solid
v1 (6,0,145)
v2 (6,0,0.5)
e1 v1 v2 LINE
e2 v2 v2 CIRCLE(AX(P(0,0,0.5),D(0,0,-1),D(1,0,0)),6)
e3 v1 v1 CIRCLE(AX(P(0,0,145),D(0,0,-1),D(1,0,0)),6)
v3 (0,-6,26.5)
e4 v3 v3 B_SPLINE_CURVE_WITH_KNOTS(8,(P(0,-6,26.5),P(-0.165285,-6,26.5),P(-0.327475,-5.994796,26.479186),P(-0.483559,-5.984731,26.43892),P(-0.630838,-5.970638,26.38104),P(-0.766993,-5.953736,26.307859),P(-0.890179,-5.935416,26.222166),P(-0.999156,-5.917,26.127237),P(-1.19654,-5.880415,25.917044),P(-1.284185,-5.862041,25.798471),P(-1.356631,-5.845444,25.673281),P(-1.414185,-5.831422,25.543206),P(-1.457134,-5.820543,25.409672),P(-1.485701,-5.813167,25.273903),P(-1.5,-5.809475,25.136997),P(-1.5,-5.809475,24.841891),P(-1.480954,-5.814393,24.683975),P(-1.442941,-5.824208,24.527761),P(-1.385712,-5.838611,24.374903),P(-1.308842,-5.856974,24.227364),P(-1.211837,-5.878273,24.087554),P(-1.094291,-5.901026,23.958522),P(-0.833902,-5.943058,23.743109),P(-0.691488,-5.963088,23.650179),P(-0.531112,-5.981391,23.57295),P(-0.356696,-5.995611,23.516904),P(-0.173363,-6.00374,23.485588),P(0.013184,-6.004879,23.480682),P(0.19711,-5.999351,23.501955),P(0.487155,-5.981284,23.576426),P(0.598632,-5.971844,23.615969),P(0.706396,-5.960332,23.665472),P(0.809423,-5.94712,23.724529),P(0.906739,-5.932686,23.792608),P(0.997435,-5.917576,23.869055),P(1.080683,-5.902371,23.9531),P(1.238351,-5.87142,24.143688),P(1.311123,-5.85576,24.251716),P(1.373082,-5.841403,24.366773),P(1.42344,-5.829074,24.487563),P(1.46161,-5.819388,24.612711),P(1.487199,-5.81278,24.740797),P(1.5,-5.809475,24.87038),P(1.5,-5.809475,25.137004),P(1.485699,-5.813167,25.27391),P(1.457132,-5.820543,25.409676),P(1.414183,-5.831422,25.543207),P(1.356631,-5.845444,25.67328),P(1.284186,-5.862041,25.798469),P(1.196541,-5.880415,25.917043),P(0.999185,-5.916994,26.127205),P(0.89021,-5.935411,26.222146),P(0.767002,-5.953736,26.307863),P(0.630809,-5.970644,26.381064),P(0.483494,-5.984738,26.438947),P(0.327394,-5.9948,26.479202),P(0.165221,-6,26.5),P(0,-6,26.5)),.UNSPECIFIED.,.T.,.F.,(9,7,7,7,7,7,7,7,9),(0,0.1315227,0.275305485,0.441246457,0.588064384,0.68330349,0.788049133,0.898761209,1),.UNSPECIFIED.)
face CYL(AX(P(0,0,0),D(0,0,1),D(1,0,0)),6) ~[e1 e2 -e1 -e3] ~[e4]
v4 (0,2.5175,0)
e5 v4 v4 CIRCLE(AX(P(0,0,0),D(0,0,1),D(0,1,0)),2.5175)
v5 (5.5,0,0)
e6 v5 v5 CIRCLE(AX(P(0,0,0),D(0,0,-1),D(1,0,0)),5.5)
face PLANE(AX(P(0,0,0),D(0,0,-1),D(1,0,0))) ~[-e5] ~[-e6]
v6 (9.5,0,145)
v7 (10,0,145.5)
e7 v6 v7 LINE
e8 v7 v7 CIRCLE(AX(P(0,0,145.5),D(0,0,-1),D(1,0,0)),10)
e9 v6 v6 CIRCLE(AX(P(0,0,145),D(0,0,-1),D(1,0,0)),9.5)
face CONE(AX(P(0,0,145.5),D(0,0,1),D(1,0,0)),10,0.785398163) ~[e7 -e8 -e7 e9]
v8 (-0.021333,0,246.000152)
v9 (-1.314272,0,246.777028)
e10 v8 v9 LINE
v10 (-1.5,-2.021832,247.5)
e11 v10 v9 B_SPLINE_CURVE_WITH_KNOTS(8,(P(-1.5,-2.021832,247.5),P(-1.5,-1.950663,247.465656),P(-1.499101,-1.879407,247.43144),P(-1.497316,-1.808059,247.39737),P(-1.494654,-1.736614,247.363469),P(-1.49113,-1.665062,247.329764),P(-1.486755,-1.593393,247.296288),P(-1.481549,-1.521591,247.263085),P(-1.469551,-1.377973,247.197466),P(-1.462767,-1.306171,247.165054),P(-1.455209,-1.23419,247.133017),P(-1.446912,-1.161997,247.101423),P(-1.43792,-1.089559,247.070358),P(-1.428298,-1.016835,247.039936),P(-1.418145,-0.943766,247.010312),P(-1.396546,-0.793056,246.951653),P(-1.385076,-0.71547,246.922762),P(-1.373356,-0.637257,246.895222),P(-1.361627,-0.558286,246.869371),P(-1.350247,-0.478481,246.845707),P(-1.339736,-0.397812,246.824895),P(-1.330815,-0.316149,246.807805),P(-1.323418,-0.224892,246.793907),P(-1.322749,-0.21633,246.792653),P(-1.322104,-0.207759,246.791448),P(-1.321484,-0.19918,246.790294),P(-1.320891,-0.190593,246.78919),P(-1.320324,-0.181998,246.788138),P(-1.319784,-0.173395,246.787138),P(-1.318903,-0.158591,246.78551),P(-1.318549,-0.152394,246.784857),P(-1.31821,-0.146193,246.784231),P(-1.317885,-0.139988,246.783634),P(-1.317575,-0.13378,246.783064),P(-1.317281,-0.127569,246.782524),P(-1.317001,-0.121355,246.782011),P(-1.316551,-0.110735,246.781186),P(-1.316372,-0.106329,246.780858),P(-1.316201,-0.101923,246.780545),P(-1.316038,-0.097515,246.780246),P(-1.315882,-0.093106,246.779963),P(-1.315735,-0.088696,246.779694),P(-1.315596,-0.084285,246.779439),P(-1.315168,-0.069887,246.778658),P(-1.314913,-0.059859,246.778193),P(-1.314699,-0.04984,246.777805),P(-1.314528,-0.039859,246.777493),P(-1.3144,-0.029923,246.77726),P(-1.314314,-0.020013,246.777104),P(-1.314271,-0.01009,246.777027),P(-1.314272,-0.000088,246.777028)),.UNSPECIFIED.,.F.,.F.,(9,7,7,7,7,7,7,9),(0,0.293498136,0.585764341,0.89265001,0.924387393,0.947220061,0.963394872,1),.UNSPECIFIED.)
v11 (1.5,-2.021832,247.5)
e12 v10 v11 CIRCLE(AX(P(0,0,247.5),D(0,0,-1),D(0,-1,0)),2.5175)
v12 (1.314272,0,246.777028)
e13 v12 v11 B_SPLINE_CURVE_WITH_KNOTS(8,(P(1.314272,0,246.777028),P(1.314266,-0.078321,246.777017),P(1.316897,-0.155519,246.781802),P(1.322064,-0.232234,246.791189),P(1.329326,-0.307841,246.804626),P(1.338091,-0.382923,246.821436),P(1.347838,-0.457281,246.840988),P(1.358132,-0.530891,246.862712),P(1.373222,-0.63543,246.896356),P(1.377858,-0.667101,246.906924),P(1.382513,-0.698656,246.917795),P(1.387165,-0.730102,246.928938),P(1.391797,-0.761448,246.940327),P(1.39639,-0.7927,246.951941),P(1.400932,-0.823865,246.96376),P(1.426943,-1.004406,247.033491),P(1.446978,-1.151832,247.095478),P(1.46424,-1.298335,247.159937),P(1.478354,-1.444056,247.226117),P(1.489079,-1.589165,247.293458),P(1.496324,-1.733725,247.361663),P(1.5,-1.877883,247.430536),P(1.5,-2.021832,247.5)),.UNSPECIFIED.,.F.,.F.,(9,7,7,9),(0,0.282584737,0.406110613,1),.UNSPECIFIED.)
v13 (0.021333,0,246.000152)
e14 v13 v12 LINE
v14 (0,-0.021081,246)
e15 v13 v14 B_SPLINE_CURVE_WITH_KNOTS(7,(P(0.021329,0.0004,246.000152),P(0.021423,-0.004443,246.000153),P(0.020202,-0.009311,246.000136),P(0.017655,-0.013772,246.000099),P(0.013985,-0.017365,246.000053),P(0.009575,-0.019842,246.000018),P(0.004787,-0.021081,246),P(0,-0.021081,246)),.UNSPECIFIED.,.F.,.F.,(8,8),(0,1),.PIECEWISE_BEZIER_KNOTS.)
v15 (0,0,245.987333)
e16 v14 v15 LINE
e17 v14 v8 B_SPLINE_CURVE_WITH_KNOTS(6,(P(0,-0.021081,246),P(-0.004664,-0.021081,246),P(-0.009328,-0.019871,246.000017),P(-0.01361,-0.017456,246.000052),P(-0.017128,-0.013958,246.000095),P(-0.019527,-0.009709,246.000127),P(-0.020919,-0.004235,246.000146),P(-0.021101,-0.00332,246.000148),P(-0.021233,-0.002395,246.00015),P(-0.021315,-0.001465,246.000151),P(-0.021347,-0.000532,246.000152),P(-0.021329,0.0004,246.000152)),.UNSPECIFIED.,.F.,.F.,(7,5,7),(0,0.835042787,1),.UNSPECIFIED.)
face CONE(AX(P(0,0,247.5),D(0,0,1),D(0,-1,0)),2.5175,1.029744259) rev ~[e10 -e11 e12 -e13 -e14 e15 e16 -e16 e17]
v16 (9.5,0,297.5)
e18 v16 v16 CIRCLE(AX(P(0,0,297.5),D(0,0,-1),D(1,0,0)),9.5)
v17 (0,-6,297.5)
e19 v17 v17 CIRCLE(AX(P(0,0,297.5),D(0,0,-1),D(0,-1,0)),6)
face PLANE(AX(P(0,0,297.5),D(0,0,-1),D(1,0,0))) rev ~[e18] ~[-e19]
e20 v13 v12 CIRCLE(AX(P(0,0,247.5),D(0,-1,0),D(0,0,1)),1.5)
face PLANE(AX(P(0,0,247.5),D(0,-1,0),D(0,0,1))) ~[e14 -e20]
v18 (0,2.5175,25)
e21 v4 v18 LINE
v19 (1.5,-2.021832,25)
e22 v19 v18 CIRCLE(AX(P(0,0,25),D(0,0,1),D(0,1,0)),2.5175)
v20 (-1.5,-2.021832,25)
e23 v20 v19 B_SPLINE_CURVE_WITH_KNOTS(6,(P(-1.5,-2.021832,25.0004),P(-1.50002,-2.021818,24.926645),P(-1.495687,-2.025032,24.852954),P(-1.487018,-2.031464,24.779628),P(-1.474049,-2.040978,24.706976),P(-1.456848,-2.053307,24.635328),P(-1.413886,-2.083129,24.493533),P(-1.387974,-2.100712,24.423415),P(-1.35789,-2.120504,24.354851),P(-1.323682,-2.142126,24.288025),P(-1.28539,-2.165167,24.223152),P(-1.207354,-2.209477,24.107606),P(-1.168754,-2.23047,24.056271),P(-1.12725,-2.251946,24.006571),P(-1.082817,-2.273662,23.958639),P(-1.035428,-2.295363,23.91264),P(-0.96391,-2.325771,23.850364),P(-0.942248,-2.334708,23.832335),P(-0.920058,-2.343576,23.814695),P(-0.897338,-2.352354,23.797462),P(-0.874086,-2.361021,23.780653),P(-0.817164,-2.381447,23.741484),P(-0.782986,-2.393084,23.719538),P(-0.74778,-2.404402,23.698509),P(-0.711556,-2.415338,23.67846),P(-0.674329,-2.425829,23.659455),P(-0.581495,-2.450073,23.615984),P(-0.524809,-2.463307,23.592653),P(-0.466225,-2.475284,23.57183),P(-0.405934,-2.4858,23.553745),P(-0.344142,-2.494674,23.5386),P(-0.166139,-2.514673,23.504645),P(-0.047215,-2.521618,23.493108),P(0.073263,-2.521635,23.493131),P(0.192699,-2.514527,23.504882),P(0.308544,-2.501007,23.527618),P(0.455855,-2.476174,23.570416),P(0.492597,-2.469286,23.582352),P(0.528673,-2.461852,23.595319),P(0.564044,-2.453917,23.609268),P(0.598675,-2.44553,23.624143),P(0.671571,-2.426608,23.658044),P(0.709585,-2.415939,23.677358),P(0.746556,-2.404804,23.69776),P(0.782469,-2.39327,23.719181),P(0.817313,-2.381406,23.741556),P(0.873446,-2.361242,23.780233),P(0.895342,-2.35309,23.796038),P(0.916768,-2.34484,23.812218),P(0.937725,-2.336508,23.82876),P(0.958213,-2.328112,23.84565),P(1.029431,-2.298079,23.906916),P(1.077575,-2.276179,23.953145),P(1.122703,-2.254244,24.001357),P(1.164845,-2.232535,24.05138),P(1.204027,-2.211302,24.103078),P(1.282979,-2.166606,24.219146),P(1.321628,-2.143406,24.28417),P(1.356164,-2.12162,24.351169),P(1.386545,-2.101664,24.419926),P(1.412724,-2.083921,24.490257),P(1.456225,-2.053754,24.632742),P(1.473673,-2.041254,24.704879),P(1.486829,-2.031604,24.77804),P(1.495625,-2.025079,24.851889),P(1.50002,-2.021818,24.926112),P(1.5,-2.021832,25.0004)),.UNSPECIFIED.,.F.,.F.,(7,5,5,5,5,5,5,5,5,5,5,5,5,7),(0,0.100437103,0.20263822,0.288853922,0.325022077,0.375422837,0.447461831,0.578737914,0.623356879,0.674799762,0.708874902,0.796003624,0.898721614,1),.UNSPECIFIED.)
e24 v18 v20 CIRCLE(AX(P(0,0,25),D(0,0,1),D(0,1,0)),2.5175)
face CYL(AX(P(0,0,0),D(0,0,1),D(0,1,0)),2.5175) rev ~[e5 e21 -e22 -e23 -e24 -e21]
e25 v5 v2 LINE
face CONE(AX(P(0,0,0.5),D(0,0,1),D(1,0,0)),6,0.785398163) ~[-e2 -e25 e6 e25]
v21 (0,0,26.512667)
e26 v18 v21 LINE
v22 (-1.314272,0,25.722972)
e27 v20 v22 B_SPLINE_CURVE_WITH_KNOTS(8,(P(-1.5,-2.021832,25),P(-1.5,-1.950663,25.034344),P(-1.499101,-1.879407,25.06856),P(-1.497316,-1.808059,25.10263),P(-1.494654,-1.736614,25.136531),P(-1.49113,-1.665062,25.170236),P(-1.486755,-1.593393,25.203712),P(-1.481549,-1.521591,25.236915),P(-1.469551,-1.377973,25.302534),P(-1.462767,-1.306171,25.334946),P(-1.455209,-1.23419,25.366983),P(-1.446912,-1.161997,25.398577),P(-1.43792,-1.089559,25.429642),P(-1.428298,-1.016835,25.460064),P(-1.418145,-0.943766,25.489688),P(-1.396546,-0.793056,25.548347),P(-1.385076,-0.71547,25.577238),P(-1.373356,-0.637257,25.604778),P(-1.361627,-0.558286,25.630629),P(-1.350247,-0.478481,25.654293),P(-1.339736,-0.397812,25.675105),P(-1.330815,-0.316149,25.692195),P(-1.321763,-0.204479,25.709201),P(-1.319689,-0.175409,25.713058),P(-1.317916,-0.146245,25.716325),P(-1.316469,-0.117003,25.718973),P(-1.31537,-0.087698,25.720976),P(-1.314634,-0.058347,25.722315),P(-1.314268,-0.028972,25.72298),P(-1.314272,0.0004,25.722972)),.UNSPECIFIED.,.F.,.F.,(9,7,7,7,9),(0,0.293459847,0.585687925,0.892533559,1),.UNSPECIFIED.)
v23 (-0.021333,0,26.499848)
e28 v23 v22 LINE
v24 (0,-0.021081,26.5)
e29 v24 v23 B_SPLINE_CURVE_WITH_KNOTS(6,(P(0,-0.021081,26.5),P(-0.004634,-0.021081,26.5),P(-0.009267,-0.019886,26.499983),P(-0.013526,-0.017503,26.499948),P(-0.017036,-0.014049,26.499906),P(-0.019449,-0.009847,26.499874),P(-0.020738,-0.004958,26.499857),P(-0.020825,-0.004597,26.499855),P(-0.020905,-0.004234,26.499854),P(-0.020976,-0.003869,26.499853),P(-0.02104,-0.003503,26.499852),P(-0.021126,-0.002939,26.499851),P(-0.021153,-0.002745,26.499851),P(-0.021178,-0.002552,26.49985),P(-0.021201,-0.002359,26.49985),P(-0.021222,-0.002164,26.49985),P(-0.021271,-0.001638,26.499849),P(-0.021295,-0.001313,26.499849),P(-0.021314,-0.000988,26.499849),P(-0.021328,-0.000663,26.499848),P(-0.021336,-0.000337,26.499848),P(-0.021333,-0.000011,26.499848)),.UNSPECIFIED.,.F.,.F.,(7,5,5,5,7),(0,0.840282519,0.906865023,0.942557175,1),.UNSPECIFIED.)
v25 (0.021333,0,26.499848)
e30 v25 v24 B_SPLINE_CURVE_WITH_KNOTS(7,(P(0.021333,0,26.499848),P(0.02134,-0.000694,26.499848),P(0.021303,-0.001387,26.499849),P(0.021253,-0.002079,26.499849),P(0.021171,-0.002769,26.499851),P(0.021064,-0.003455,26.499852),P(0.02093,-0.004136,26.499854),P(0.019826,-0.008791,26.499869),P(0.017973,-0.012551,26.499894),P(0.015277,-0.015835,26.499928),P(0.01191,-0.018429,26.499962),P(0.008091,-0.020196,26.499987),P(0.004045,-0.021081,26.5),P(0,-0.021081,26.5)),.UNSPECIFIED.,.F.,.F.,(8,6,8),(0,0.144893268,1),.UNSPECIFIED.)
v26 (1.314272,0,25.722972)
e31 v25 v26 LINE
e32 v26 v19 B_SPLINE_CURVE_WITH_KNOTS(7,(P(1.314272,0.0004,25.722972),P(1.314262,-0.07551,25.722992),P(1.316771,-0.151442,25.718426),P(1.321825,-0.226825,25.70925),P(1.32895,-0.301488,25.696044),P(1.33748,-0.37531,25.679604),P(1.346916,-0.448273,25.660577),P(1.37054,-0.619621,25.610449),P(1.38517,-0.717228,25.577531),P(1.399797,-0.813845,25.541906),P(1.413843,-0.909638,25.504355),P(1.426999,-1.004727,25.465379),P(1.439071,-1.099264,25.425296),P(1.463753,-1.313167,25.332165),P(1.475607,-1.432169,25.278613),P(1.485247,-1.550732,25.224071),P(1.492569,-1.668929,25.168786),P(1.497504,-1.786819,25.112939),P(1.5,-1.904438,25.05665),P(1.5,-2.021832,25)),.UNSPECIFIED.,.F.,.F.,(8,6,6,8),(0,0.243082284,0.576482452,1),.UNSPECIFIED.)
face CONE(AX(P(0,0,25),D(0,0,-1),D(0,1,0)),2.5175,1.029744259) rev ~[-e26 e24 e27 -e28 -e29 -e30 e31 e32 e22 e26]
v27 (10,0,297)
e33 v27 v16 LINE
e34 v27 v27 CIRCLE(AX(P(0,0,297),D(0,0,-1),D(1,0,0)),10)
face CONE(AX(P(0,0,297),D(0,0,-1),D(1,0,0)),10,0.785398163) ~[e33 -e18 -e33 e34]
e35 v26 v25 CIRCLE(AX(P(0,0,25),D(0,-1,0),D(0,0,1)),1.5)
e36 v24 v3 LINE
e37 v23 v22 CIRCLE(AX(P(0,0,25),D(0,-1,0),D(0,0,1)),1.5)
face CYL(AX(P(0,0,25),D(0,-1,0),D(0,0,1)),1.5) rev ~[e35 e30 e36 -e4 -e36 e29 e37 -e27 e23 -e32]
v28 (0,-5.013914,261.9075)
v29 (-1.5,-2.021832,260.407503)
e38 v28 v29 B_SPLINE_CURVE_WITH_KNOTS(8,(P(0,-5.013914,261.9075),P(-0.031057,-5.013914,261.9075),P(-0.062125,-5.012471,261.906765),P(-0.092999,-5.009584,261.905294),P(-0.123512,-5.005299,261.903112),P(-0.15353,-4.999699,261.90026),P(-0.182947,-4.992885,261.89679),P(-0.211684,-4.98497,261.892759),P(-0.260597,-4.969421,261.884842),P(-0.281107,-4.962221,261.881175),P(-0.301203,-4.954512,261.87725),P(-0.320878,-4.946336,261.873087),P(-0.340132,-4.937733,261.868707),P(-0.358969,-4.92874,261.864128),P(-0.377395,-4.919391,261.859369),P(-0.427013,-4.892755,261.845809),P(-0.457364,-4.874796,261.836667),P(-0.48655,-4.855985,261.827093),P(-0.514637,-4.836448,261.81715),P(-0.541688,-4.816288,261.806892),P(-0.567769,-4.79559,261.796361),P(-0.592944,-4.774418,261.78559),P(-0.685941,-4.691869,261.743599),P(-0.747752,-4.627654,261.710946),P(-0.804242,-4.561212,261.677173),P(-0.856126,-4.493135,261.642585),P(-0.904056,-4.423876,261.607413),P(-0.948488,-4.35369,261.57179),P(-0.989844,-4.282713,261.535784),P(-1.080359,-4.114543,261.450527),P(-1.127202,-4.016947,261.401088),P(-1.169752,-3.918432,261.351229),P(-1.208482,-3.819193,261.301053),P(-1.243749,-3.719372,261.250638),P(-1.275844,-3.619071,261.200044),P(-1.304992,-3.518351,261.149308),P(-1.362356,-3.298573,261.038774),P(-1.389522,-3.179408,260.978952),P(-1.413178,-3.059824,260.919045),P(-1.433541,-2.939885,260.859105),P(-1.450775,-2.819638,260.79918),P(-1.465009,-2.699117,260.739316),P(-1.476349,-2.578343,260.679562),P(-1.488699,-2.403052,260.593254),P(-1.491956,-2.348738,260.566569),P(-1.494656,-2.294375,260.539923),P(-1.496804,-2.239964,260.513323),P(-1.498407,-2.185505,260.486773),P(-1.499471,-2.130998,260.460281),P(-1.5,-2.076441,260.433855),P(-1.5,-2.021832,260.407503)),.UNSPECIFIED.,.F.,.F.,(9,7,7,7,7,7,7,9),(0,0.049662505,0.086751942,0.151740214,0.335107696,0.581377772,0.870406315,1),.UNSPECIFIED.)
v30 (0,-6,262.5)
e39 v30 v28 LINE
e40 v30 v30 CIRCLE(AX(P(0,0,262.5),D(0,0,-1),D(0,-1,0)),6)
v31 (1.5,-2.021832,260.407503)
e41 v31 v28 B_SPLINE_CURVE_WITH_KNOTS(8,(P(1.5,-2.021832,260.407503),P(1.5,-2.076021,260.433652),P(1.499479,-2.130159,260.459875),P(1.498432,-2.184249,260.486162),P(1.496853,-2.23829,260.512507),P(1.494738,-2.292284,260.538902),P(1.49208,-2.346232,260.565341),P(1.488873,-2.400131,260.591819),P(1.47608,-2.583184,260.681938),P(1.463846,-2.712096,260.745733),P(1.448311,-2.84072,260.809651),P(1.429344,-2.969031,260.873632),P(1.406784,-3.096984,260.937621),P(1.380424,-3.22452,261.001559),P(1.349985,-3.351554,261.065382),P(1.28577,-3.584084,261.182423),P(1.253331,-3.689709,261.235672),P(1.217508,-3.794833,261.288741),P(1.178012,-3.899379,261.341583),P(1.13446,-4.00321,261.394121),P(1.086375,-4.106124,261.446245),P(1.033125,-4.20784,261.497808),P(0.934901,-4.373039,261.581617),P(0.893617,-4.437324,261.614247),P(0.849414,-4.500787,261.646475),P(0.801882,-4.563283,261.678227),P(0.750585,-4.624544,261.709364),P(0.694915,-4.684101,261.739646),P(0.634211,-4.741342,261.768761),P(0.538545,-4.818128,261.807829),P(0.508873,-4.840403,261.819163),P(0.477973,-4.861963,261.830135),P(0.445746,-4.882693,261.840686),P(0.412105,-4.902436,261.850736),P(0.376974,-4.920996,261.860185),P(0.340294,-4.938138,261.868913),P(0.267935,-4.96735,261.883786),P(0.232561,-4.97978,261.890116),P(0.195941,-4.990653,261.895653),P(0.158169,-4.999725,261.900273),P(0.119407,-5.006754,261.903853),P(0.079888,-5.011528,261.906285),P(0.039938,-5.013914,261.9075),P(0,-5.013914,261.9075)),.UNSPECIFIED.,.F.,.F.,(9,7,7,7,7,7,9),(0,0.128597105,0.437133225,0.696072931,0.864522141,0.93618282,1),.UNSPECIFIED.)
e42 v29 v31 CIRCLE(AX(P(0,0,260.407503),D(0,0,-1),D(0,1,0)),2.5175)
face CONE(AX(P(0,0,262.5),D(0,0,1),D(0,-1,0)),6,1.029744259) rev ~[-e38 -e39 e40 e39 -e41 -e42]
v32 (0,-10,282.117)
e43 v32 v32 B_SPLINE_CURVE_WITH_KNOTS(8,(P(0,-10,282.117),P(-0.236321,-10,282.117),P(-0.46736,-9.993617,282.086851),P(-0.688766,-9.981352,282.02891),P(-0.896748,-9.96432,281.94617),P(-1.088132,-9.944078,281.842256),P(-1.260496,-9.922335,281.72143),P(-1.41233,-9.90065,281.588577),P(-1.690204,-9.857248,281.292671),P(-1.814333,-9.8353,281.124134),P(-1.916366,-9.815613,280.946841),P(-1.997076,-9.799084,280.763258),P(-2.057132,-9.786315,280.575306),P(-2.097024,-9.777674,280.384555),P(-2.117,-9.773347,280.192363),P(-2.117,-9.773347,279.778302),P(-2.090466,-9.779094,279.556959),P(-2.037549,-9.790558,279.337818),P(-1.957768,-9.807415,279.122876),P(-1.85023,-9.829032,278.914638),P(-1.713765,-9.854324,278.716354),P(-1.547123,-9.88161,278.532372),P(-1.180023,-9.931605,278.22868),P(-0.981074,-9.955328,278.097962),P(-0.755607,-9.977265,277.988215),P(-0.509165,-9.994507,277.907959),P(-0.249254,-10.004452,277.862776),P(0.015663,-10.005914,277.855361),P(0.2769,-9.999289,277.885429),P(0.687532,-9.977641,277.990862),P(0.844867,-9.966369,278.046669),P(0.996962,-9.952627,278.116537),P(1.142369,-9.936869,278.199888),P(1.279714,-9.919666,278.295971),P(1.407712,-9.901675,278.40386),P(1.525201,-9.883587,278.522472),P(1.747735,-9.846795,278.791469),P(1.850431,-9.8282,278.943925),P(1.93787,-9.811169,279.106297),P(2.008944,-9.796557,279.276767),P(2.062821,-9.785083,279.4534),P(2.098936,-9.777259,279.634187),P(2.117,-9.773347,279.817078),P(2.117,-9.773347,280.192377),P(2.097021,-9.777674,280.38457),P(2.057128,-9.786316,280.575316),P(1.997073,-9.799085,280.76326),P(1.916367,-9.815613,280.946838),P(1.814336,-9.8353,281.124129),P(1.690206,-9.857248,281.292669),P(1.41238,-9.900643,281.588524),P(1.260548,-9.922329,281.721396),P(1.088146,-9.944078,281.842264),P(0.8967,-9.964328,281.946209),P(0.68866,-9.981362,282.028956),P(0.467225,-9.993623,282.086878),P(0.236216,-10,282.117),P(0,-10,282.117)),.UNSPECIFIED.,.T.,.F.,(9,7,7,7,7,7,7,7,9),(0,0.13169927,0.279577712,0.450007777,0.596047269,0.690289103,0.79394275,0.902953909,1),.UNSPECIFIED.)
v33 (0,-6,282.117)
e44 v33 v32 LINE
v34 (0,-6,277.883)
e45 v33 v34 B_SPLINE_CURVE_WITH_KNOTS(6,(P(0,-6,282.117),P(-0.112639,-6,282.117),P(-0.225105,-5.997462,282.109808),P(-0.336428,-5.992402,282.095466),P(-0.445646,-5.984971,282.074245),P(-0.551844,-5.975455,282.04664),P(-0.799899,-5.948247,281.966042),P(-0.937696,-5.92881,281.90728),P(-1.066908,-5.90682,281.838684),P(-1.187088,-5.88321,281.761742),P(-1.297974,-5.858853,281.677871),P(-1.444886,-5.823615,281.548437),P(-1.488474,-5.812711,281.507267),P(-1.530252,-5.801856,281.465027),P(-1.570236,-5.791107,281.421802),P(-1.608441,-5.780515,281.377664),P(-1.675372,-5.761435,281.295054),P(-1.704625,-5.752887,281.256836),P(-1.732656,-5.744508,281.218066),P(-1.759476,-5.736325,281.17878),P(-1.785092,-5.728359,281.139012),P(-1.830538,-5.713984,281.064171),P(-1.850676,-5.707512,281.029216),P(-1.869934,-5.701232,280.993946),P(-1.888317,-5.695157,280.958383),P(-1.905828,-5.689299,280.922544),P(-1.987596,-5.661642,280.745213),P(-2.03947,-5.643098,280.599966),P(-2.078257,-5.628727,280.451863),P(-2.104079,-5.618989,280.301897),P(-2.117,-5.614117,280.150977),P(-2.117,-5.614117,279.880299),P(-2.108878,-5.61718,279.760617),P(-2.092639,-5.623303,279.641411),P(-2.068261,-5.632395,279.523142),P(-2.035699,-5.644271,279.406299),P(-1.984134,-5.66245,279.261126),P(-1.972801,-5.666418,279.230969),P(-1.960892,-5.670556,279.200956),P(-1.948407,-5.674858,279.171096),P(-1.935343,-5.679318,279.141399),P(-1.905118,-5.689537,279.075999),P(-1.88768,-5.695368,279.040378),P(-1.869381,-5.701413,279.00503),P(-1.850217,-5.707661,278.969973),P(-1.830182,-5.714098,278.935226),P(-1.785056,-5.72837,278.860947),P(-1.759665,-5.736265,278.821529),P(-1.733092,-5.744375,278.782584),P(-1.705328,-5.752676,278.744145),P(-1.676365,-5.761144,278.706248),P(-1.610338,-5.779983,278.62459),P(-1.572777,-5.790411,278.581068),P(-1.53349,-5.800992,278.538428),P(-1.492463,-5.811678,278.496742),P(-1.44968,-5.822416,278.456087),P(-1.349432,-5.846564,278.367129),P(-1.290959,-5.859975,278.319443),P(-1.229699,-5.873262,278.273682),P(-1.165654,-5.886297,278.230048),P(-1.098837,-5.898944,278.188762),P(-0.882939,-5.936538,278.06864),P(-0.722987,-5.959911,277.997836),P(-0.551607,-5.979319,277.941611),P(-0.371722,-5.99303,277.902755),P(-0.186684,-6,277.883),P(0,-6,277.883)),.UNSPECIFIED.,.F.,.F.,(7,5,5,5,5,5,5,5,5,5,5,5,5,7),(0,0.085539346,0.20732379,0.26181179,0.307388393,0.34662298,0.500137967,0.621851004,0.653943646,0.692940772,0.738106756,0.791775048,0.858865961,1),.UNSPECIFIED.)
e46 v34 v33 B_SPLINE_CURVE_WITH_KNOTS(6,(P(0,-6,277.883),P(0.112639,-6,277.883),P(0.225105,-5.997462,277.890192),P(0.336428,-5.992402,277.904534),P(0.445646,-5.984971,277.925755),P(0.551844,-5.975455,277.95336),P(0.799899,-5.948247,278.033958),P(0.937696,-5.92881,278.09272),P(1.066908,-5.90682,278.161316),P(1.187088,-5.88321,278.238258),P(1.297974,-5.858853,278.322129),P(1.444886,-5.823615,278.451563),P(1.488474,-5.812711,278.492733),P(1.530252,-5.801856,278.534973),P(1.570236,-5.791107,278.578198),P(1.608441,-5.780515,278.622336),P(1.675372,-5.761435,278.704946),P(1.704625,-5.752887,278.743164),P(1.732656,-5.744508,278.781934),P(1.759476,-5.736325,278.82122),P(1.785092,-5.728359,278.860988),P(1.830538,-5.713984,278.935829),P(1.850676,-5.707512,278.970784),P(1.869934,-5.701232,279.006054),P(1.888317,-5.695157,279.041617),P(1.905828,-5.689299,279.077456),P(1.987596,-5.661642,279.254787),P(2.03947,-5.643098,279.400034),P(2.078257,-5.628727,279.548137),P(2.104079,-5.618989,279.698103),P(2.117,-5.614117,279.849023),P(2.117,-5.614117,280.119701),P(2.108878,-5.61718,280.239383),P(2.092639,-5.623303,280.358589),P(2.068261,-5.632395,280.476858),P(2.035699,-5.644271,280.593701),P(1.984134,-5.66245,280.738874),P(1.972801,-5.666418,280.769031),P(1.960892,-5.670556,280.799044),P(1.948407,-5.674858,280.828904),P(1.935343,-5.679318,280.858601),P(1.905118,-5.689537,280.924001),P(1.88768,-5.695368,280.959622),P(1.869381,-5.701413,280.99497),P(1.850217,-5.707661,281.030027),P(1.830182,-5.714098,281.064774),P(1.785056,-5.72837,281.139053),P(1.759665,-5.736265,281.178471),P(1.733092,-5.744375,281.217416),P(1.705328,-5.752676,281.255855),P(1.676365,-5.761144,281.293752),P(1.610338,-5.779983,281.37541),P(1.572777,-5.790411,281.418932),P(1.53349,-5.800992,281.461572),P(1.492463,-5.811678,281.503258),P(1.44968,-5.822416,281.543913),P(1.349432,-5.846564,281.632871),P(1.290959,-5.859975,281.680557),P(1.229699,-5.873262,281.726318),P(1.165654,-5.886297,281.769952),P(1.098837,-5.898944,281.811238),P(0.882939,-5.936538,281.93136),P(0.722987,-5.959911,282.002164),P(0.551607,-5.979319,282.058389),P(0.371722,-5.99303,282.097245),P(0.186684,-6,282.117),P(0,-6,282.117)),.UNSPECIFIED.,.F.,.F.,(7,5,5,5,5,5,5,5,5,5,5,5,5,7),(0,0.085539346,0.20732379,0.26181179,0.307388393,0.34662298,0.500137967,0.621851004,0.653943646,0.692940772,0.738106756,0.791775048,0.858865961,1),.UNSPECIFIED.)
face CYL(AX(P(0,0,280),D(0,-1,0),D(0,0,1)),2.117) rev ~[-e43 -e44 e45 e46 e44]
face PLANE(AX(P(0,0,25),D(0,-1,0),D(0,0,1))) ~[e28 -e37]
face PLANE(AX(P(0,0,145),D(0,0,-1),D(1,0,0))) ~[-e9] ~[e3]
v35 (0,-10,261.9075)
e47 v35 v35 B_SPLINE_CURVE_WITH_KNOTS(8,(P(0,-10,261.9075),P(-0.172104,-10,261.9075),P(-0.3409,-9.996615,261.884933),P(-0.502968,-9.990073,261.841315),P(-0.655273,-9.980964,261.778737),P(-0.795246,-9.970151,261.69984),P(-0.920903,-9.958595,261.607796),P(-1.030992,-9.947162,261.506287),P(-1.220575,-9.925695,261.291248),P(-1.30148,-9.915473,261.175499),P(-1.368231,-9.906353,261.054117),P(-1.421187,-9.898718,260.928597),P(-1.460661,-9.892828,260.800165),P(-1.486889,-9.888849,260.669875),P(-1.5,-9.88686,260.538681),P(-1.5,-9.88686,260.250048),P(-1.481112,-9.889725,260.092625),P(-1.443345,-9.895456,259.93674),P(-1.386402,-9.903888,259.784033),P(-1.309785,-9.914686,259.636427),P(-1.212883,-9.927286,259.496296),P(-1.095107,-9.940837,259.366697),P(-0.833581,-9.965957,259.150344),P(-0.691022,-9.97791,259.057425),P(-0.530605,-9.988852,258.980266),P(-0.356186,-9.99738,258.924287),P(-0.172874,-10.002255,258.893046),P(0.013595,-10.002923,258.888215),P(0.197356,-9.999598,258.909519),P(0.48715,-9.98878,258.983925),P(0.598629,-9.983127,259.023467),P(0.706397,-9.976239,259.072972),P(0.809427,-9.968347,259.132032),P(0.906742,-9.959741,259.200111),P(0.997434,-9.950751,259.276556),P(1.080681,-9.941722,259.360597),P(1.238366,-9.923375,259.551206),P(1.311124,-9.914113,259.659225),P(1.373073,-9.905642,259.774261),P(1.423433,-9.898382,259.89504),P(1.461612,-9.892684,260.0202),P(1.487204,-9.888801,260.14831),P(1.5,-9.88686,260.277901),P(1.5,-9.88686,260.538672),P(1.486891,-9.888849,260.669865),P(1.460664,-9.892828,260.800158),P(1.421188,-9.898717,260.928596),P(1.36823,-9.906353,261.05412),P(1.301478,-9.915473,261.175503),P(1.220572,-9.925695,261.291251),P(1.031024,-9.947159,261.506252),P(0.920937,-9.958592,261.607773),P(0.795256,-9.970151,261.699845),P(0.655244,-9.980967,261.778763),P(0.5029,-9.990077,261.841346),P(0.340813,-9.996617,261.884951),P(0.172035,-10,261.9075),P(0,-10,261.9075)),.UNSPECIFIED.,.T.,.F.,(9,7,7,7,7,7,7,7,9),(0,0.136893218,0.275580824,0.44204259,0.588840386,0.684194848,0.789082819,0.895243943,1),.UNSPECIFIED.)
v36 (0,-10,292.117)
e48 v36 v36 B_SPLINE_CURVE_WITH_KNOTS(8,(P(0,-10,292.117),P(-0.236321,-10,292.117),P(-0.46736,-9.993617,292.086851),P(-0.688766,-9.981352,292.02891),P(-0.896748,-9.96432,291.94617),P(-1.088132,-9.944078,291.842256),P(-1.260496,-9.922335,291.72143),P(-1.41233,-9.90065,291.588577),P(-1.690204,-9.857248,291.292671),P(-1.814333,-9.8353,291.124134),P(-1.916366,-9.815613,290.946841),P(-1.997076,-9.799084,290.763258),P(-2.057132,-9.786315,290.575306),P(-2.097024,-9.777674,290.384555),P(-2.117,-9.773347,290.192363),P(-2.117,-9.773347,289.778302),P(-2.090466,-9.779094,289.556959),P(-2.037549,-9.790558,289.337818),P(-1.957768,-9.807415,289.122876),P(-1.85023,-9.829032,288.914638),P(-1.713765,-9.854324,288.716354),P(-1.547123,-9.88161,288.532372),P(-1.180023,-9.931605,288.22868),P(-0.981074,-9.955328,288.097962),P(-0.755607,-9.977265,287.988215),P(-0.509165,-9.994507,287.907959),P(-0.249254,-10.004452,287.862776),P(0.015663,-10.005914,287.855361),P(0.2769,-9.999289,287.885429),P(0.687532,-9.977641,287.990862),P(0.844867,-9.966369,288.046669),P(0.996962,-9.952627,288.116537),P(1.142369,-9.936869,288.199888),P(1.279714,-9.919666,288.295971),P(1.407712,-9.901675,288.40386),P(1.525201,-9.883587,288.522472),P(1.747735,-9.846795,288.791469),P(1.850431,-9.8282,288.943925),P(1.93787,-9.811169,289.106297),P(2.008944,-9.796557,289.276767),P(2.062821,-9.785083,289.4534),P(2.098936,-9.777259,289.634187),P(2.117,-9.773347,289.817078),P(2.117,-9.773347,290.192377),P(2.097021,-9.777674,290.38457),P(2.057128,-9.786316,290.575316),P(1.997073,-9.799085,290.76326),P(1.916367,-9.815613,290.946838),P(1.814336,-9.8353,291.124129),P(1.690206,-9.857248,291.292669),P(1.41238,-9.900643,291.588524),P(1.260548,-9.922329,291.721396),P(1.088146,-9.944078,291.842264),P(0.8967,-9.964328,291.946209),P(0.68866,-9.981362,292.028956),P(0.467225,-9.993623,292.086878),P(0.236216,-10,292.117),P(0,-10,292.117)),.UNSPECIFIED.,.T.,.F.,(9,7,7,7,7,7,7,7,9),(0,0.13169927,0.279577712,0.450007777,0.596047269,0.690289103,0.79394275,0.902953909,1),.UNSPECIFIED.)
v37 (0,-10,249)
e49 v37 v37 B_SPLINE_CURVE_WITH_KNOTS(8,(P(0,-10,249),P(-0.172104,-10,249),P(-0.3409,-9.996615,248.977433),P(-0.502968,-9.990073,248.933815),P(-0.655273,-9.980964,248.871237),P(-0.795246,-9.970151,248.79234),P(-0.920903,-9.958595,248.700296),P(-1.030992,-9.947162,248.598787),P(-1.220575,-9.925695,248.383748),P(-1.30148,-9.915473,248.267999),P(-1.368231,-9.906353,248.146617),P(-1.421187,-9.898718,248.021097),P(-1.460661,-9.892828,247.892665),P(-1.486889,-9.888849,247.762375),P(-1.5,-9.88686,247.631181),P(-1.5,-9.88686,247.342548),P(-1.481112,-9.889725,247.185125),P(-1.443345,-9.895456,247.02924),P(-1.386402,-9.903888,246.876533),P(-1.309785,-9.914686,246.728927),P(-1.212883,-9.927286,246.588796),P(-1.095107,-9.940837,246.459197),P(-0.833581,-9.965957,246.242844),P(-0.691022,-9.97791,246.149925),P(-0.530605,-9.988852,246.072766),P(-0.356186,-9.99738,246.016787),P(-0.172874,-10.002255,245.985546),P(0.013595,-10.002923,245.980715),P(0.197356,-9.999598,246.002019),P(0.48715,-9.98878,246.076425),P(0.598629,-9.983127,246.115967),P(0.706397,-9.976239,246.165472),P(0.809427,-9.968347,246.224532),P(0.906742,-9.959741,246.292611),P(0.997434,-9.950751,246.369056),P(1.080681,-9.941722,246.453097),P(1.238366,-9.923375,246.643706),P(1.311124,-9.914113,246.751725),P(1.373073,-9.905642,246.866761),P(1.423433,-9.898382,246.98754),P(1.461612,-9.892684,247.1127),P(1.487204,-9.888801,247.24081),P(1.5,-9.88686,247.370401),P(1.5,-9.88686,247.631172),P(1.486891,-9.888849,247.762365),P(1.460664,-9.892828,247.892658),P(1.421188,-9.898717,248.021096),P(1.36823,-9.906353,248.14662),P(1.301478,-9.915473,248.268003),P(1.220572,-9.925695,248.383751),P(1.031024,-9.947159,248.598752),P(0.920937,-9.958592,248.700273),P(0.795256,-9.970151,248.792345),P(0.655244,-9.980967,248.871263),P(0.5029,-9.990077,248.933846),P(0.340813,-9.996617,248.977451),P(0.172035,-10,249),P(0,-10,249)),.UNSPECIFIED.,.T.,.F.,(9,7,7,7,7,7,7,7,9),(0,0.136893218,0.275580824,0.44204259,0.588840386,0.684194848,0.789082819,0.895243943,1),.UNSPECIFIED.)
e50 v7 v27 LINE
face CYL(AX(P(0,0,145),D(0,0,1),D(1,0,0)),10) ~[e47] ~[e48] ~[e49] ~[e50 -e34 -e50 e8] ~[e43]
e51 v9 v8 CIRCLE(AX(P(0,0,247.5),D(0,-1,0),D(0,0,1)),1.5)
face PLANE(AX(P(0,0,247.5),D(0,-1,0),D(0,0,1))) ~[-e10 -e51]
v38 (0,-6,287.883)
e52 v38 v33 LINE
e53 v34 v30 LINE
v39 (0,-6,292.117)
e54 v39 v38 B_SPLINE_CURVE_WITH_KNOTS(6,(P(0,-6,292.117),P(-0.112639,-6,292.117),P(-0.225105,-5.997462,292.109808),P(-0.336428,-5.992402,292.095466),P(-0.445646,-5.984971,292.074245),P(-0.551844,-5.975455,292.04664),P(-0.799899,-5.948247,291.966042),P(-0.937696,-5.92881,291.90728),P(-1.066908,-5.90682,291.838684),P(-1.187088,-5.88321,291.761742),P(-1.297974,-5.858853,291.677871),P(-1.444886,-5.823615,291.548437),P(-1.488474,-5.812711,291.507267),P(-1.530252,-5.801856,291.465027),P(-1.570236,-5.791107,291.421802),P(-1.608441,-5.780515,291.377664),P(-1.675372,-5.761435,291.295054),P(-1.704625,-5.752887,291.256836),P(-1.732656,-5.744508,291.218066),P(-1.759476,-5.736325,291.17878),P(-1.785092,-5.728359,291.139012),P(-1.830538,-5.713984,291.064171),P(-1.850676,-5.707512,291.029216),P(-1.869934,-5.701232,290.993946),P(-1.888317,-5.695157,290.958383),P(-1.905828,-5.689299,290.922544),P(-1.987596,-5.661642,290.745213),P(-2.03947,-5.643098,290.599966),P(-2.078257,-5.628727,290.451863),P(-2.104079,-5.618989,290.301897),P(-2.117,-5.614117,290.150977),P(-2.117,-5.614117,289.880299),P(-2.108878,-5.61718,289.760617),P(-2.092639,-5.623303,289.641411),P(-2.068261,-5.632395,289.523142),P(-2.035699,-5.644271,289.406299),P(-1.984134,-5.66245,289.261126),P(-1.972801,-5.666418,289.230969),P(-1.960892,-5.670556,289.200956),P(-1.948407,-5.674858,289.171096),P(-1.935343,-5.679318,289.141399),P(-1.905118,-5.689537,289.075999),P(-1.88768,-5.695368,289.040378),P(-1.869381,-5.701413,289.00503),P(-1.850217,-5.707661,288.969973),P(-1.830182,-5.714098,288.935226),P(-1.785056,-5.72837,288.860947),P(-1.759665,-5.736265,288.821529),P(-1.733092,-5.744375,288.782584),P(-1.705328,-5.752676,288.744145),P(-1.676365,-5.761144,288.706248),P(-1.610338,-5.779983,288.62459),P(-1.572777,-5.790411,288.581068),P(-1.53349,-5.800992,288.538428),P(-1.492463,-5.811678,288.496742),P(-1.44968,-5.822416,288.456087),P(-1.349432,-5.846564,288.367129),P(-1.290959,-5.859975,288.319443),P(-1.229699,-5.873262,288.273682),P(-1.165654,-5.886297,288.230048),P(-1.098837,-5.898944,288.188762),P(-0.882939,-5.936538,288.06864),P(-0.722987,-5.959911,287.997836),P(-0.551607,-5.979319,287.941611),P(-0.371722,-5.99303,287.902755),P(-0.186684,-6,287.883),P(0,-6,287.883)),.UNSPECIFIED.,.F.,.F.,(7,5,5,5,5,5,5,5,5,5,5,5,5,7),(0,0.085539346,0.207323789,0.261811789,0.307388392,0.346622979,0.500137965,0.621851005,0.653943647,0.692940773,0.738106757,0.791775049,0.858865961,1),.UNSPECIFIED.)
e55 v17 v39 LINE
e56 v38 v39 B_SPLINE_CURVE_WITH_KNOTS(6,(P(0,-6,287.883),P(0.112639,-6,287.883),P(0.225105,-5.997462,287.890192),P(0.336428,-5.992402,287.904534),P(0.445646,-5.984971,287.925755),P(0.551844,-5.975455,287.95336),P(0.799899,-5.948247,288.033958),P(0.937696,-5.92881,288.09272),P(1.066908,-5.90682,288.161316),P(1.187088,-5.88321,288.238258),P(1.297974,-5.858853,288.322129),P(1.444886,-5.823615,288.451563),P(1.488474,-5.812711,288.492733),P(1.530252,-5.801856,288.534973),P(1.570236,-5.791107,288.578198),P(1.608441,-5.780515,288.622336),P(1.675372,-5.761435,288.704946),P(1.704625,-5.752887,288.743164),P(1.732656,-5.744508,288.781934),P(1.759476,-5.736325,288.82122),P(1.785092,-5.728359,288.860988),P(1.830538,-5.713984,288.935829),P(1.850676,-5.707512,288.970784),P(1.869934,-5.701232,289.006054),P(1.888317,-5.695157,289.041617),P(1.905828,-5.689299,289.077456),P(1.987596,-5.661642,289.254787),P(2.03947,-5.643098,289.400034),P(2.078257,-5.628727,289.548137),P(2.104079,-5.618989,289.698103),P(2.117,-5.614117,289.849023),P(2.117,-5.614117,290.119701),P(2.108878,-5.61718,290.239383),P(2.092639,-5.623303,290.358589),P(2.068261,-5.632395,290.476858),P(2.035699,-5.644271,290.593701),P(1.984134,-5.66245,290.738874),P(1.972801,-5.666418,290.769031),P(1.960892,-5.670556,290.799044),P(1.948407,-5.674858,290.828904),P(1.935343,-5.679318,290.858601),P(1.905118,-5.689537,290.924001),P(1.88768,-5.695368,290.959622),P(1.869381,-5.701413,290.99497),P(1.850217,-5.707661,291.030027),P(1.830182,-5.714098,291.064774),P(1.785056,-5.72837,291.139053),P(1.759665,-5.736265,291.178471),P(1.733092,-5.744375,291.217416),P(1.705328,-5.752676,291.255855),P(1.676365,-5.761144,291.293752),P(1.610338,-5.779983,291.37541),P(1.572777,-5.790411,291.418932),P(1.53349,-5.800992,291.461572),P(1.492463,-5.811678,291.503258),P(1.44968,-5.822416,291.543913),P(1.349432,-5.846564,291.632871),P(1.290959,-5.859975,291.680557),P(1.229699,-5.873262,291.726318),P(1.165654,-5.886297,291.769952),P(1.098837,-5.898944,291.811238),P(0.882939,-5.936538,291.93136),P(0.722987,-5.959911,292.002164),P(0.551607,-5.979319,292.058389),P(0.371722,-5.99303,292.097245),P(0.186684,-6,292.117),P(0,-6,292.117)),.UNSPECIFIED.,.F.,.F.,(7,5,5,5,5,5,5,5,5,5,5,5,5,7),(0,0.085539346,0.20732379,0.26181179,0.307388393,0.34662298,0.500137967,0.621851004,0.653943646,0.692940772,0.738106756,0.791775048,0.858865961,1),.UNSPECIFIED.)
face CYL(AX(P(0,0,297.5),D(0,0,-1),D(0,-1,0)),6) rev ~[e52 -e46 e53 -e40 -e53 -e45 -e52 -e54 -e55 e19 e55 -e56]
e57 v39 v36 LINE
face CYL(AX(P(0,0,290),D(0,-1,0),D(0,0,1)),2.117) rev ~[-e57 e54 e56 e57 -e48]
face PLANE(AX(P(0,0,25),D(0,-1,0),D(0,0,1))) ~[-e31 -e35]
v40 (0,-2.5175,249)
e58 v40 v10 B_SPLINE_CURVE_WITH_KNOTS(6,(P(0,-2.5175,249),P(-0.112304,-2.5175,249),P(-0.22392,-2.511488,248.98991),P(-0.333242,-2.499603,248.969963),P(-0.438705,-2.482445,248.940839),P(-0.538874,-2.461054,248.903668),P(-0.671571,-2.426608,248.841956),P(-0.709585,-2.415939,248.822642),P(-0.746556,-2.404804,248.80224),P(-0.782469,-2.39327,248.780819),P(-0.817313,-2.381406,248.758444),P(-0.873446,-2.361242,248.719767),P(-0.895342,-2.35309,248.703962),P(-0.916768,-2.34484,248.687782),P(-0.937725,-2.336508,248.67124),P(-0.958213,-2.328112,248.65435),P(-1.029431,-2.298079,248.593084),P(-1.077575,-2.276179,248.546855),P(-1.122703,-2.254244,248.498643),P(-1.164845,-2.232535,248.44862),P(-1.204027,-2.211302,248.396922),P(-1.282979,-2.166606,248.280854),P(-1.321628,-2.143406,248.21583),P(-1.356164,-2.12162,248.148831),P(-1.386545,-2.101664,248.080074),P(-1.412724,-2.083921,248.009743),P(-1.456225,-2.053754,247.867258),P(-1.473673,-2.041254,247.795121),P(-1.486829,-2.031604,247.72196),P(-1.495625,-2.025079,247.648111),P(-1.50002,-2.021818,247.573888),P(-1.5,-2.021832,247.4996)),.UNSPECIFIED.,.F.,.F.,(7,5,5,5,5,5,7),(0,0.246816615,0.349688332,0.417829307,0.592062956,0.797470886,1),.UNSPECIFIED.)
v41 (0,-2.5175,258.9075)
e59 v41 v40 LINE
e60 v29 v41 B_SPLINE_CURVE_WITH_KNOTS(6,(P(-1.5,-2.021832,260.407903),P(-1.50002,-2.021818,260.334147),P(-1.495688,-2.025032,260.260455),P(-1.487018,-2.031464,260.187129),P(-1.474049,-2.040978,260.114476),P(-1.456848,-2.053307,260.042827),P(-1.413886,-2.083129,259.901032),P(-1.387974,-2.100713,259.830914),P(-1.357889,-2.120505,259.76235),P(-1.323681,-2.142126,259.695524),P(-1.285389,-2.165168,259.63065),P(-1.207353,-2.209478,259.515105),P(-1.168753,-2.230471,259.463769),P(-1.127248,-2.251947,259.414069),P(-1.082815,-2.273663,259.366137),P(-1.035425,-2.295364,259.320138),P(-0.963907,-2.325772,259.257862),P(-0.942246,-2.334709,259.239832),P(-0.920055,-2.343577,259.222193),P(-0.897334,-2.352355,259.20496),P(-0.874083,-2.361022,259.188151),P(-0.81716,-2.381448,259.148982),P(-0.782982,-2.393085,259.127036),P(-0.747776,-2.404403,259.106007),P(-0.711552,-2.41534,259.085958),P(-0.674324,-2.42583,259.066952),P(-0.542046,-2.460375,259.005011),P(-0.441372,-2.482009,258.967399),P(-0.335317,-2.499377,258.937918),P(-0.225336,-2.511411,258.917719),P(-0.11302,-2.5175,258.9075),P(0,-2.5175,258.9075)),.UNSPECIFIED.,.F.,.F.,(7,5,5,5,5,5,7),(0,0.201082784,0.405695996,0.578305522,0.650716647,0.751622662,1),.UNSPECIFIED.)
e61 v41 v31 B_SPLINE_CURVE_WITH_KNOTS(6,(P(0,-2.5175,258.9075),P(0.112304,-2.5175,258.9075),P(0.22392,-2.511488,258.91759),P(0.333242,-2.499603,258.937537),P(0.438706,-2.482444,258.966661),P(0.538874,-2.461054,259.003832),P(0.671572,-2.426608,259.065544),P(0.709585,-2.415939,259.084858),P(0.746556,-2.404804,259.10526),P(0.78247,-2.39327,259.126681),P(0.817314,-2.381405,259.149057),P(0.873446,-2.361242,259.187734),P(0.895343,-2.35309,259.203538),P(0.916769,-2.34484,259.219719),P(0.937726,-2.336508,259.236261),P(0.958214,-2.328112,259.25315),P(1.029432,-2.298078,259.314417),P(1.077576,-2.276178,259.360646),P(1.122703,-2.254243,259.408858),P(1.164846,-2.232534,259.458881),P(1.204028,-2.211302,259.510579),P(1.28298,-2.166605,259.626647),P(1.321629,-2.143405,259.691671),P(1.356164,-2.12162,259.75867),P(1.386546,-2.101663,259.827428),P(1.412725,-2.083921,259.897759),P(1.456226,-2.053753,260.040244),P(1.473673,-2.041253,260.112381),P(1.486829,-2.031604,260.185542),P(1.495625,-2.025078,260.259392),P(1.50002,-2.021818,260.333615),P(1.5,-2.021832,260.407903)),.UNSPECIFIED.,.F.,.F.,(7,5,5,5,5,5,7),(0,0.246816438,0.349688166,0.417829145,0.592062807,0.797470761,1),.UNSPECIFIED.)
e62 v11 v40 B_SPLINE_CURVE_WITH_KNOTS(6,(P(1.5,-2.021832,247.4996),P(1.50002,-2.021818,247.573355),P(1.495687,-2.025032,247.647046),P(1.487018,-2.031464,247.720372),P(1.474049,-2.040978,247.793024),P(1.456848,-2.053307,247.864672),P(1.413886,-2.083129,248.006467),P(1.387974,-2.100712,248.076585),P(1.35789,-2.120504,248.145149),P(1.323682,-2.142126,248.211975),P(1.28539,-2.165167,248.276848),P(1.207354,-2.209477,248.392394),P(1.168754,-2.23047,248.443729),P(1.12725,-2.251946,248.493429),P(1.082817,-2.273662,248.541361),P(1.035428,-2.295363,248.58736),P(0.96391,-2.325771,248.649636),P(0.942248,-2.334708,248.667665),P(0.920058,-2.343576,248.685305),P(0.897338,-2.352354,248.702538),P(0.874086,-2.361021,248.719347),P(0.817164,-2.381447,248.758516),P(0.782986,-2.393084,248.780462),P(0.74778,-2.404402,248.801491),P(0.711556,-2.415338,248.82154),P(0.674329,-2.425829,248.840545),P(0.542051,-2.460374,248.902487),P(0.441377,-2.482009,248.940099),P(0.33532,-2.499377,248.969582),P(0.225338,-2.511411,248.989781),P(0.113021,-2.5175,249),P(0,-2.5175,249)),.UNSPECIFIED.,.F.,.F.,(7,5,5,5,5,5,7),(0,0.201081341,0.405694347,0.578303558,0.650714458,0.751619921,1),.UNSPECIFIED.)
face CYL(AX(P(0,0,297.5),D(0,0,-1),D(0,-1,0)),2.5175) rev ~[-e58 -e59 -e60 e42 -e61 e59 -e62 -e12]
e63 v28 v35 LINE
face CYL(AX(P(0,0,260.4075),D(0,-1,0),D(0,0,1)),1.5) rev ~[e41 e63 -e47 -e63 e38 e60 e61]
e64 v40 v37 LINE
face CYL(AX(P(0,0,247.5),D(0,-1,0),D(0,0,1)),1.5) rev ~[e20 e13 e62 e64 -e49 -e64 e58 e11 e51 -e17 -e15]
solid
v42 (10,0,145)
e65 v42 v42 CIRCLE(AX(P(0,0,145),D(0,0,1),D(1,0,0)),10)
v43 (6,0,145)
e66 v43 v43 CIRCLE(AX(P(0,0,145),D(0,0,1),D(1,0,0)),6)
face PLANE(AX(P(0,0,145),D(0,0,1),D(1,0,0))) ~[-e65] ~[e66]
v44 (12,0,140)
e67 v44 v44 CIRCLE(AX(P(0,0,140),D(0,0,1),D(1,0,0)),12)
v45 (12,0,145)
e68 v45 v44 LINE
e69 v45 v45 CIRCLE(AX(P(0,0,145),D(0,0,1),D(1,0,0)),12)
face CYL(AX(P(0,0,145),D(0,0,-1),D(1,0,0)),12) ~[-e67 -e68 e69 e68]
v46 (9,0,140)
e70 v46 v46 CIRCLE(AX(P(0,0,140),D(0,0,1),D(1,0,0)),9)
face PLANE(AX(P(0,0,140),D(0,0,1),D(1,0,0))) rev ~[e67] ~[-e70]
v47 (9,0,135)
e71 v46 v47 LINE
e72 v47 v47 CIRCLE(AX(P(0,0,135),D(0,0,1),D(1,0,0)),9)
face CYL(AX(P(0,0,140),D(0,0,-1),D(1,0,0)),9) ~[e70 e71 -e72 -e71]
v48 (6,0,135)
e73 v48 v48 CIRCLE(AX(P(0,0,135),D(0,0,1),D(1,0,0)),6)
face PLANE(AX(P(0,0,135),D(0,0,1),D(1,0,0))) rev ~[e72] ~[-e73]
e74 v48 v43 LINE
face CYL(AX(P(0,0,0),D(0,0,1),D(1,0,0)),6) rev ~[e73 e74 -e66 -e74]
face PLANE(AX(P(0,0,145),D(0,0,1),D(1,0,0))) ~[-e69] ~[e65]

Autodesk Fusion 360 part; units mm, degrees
sketch "Sketch1" plane through (0, 0, 0) normal (0, 1, 0) x (1, 0, 0)
  line L0 (0, 0) -> (6, 0)
  line L1 (6, 0) -> (6, -145)
  line L2 (6, -145) -> (10, -145)
  line L3 (10, -145) -> (10, -297.5)
  line L4 (10, -297.5) -> (0, -297.5)
  line L5 (0, -297.5) -> (0, 0)
  line L6 (10, -145) -> (12, -145)
  line L7 (12, -145) -> (12, -140)
  line L8 (12, -140) -> (9, -140)
  line L9 (9, -140) -> (9, -135)
  line L10 (9, -135) -> (6, -135)
  dimension "d1" = 10
  dimension "d2" = 6
  dimension "d3" = 145
  dimension "d4" = 152.5
  dimension "d12" = 5
  dimension "d13" = 9
  dimension "d14" = 12
  dimension "d15" = 5
revolve "Revolve1" add sketch "Sketch1" angle 360 about axis through (0, 0, 297.5) along (0, 0, -1) contours L0 L1 L2 L3 L4 L5 makes body 1
hole "Hole1" at (0, 0, 297.5) direction (0, 0, -1) diameter 12 depth 35 tip angle 118 bodies 1
hole "Hole2" at (0, 0, 297.5) direction (0, 0, -1) diameter 5.035 depth 50 tip angle 118 bodies 1
hole "Hole3" at (0, 0, 0) direction (0, 0, 1) diameter 5.035 depth 25 tip angle 118 bodies 1
chamfer "Chamfer1" distance 0.5 angle 45 3 edges at (-5.594, -2.1697, 0) (-9.3233, -3.6162, 145) (-9.3233, -3.6162, 297.5) on bodies 1
revolve "Revolve2" add sketch "Sketch1" angle 360 about axis through (0, 0, 1.75) along (0, 0, 1) separate body contours L1 L2 L6 L7 L8 L9 L10 makes body 2
sketch "Sketch2" plane through (0, 0, 0) normal (0, 1, 0) x (1, 0, 0)
  line L0 (2.5175, -247.5) -> (-2.5175, -247.5)
  line L1 (2.5175, -260.4075) -> (-2.5175, -260.4075)
  line L2 (9.5, -297.5) -> (-9.5, -297.5)
  point P0 (0, -247.5)
  point P1 (0, -260.4075)
  point P2 (0, -25)
  point P3 (0, -280)
  point P4 (0, -290)
  dimension "d24" = 10
  dimension "d25" = 7.5
hole "Hole4" at (0, 0, 25) at (0, 0, 247.5) at (0, 0, 260.4075) direction (0, -1, 0) diameter 3 end through all bodies 1 1
copy_body "Body->Comp1" bodies 1 removing the originals makes body 3 in component "vertical rod"
copy_body "Body->Comp2" bodies 2 removing the originals makes body 4 in component "peek insulator"
hole "Hole1'" at (0, 0, 280) at (0, 0, 290) direction (0, -1, 0) diameter 4.234 end through all bodies 3 3 in component "vertical rod"
component "vertical rod" placed x (1, 0, 0) y (0, 1, 0) z (0, 0, 1) at (0, 0, 0)
component "peek insulator" placed x (1, 0, 0) y (0, 1, 0) z (0, 0, 1) at (0, 0, 0)
equation "d4 = 117.5 mm + 35 mm"
